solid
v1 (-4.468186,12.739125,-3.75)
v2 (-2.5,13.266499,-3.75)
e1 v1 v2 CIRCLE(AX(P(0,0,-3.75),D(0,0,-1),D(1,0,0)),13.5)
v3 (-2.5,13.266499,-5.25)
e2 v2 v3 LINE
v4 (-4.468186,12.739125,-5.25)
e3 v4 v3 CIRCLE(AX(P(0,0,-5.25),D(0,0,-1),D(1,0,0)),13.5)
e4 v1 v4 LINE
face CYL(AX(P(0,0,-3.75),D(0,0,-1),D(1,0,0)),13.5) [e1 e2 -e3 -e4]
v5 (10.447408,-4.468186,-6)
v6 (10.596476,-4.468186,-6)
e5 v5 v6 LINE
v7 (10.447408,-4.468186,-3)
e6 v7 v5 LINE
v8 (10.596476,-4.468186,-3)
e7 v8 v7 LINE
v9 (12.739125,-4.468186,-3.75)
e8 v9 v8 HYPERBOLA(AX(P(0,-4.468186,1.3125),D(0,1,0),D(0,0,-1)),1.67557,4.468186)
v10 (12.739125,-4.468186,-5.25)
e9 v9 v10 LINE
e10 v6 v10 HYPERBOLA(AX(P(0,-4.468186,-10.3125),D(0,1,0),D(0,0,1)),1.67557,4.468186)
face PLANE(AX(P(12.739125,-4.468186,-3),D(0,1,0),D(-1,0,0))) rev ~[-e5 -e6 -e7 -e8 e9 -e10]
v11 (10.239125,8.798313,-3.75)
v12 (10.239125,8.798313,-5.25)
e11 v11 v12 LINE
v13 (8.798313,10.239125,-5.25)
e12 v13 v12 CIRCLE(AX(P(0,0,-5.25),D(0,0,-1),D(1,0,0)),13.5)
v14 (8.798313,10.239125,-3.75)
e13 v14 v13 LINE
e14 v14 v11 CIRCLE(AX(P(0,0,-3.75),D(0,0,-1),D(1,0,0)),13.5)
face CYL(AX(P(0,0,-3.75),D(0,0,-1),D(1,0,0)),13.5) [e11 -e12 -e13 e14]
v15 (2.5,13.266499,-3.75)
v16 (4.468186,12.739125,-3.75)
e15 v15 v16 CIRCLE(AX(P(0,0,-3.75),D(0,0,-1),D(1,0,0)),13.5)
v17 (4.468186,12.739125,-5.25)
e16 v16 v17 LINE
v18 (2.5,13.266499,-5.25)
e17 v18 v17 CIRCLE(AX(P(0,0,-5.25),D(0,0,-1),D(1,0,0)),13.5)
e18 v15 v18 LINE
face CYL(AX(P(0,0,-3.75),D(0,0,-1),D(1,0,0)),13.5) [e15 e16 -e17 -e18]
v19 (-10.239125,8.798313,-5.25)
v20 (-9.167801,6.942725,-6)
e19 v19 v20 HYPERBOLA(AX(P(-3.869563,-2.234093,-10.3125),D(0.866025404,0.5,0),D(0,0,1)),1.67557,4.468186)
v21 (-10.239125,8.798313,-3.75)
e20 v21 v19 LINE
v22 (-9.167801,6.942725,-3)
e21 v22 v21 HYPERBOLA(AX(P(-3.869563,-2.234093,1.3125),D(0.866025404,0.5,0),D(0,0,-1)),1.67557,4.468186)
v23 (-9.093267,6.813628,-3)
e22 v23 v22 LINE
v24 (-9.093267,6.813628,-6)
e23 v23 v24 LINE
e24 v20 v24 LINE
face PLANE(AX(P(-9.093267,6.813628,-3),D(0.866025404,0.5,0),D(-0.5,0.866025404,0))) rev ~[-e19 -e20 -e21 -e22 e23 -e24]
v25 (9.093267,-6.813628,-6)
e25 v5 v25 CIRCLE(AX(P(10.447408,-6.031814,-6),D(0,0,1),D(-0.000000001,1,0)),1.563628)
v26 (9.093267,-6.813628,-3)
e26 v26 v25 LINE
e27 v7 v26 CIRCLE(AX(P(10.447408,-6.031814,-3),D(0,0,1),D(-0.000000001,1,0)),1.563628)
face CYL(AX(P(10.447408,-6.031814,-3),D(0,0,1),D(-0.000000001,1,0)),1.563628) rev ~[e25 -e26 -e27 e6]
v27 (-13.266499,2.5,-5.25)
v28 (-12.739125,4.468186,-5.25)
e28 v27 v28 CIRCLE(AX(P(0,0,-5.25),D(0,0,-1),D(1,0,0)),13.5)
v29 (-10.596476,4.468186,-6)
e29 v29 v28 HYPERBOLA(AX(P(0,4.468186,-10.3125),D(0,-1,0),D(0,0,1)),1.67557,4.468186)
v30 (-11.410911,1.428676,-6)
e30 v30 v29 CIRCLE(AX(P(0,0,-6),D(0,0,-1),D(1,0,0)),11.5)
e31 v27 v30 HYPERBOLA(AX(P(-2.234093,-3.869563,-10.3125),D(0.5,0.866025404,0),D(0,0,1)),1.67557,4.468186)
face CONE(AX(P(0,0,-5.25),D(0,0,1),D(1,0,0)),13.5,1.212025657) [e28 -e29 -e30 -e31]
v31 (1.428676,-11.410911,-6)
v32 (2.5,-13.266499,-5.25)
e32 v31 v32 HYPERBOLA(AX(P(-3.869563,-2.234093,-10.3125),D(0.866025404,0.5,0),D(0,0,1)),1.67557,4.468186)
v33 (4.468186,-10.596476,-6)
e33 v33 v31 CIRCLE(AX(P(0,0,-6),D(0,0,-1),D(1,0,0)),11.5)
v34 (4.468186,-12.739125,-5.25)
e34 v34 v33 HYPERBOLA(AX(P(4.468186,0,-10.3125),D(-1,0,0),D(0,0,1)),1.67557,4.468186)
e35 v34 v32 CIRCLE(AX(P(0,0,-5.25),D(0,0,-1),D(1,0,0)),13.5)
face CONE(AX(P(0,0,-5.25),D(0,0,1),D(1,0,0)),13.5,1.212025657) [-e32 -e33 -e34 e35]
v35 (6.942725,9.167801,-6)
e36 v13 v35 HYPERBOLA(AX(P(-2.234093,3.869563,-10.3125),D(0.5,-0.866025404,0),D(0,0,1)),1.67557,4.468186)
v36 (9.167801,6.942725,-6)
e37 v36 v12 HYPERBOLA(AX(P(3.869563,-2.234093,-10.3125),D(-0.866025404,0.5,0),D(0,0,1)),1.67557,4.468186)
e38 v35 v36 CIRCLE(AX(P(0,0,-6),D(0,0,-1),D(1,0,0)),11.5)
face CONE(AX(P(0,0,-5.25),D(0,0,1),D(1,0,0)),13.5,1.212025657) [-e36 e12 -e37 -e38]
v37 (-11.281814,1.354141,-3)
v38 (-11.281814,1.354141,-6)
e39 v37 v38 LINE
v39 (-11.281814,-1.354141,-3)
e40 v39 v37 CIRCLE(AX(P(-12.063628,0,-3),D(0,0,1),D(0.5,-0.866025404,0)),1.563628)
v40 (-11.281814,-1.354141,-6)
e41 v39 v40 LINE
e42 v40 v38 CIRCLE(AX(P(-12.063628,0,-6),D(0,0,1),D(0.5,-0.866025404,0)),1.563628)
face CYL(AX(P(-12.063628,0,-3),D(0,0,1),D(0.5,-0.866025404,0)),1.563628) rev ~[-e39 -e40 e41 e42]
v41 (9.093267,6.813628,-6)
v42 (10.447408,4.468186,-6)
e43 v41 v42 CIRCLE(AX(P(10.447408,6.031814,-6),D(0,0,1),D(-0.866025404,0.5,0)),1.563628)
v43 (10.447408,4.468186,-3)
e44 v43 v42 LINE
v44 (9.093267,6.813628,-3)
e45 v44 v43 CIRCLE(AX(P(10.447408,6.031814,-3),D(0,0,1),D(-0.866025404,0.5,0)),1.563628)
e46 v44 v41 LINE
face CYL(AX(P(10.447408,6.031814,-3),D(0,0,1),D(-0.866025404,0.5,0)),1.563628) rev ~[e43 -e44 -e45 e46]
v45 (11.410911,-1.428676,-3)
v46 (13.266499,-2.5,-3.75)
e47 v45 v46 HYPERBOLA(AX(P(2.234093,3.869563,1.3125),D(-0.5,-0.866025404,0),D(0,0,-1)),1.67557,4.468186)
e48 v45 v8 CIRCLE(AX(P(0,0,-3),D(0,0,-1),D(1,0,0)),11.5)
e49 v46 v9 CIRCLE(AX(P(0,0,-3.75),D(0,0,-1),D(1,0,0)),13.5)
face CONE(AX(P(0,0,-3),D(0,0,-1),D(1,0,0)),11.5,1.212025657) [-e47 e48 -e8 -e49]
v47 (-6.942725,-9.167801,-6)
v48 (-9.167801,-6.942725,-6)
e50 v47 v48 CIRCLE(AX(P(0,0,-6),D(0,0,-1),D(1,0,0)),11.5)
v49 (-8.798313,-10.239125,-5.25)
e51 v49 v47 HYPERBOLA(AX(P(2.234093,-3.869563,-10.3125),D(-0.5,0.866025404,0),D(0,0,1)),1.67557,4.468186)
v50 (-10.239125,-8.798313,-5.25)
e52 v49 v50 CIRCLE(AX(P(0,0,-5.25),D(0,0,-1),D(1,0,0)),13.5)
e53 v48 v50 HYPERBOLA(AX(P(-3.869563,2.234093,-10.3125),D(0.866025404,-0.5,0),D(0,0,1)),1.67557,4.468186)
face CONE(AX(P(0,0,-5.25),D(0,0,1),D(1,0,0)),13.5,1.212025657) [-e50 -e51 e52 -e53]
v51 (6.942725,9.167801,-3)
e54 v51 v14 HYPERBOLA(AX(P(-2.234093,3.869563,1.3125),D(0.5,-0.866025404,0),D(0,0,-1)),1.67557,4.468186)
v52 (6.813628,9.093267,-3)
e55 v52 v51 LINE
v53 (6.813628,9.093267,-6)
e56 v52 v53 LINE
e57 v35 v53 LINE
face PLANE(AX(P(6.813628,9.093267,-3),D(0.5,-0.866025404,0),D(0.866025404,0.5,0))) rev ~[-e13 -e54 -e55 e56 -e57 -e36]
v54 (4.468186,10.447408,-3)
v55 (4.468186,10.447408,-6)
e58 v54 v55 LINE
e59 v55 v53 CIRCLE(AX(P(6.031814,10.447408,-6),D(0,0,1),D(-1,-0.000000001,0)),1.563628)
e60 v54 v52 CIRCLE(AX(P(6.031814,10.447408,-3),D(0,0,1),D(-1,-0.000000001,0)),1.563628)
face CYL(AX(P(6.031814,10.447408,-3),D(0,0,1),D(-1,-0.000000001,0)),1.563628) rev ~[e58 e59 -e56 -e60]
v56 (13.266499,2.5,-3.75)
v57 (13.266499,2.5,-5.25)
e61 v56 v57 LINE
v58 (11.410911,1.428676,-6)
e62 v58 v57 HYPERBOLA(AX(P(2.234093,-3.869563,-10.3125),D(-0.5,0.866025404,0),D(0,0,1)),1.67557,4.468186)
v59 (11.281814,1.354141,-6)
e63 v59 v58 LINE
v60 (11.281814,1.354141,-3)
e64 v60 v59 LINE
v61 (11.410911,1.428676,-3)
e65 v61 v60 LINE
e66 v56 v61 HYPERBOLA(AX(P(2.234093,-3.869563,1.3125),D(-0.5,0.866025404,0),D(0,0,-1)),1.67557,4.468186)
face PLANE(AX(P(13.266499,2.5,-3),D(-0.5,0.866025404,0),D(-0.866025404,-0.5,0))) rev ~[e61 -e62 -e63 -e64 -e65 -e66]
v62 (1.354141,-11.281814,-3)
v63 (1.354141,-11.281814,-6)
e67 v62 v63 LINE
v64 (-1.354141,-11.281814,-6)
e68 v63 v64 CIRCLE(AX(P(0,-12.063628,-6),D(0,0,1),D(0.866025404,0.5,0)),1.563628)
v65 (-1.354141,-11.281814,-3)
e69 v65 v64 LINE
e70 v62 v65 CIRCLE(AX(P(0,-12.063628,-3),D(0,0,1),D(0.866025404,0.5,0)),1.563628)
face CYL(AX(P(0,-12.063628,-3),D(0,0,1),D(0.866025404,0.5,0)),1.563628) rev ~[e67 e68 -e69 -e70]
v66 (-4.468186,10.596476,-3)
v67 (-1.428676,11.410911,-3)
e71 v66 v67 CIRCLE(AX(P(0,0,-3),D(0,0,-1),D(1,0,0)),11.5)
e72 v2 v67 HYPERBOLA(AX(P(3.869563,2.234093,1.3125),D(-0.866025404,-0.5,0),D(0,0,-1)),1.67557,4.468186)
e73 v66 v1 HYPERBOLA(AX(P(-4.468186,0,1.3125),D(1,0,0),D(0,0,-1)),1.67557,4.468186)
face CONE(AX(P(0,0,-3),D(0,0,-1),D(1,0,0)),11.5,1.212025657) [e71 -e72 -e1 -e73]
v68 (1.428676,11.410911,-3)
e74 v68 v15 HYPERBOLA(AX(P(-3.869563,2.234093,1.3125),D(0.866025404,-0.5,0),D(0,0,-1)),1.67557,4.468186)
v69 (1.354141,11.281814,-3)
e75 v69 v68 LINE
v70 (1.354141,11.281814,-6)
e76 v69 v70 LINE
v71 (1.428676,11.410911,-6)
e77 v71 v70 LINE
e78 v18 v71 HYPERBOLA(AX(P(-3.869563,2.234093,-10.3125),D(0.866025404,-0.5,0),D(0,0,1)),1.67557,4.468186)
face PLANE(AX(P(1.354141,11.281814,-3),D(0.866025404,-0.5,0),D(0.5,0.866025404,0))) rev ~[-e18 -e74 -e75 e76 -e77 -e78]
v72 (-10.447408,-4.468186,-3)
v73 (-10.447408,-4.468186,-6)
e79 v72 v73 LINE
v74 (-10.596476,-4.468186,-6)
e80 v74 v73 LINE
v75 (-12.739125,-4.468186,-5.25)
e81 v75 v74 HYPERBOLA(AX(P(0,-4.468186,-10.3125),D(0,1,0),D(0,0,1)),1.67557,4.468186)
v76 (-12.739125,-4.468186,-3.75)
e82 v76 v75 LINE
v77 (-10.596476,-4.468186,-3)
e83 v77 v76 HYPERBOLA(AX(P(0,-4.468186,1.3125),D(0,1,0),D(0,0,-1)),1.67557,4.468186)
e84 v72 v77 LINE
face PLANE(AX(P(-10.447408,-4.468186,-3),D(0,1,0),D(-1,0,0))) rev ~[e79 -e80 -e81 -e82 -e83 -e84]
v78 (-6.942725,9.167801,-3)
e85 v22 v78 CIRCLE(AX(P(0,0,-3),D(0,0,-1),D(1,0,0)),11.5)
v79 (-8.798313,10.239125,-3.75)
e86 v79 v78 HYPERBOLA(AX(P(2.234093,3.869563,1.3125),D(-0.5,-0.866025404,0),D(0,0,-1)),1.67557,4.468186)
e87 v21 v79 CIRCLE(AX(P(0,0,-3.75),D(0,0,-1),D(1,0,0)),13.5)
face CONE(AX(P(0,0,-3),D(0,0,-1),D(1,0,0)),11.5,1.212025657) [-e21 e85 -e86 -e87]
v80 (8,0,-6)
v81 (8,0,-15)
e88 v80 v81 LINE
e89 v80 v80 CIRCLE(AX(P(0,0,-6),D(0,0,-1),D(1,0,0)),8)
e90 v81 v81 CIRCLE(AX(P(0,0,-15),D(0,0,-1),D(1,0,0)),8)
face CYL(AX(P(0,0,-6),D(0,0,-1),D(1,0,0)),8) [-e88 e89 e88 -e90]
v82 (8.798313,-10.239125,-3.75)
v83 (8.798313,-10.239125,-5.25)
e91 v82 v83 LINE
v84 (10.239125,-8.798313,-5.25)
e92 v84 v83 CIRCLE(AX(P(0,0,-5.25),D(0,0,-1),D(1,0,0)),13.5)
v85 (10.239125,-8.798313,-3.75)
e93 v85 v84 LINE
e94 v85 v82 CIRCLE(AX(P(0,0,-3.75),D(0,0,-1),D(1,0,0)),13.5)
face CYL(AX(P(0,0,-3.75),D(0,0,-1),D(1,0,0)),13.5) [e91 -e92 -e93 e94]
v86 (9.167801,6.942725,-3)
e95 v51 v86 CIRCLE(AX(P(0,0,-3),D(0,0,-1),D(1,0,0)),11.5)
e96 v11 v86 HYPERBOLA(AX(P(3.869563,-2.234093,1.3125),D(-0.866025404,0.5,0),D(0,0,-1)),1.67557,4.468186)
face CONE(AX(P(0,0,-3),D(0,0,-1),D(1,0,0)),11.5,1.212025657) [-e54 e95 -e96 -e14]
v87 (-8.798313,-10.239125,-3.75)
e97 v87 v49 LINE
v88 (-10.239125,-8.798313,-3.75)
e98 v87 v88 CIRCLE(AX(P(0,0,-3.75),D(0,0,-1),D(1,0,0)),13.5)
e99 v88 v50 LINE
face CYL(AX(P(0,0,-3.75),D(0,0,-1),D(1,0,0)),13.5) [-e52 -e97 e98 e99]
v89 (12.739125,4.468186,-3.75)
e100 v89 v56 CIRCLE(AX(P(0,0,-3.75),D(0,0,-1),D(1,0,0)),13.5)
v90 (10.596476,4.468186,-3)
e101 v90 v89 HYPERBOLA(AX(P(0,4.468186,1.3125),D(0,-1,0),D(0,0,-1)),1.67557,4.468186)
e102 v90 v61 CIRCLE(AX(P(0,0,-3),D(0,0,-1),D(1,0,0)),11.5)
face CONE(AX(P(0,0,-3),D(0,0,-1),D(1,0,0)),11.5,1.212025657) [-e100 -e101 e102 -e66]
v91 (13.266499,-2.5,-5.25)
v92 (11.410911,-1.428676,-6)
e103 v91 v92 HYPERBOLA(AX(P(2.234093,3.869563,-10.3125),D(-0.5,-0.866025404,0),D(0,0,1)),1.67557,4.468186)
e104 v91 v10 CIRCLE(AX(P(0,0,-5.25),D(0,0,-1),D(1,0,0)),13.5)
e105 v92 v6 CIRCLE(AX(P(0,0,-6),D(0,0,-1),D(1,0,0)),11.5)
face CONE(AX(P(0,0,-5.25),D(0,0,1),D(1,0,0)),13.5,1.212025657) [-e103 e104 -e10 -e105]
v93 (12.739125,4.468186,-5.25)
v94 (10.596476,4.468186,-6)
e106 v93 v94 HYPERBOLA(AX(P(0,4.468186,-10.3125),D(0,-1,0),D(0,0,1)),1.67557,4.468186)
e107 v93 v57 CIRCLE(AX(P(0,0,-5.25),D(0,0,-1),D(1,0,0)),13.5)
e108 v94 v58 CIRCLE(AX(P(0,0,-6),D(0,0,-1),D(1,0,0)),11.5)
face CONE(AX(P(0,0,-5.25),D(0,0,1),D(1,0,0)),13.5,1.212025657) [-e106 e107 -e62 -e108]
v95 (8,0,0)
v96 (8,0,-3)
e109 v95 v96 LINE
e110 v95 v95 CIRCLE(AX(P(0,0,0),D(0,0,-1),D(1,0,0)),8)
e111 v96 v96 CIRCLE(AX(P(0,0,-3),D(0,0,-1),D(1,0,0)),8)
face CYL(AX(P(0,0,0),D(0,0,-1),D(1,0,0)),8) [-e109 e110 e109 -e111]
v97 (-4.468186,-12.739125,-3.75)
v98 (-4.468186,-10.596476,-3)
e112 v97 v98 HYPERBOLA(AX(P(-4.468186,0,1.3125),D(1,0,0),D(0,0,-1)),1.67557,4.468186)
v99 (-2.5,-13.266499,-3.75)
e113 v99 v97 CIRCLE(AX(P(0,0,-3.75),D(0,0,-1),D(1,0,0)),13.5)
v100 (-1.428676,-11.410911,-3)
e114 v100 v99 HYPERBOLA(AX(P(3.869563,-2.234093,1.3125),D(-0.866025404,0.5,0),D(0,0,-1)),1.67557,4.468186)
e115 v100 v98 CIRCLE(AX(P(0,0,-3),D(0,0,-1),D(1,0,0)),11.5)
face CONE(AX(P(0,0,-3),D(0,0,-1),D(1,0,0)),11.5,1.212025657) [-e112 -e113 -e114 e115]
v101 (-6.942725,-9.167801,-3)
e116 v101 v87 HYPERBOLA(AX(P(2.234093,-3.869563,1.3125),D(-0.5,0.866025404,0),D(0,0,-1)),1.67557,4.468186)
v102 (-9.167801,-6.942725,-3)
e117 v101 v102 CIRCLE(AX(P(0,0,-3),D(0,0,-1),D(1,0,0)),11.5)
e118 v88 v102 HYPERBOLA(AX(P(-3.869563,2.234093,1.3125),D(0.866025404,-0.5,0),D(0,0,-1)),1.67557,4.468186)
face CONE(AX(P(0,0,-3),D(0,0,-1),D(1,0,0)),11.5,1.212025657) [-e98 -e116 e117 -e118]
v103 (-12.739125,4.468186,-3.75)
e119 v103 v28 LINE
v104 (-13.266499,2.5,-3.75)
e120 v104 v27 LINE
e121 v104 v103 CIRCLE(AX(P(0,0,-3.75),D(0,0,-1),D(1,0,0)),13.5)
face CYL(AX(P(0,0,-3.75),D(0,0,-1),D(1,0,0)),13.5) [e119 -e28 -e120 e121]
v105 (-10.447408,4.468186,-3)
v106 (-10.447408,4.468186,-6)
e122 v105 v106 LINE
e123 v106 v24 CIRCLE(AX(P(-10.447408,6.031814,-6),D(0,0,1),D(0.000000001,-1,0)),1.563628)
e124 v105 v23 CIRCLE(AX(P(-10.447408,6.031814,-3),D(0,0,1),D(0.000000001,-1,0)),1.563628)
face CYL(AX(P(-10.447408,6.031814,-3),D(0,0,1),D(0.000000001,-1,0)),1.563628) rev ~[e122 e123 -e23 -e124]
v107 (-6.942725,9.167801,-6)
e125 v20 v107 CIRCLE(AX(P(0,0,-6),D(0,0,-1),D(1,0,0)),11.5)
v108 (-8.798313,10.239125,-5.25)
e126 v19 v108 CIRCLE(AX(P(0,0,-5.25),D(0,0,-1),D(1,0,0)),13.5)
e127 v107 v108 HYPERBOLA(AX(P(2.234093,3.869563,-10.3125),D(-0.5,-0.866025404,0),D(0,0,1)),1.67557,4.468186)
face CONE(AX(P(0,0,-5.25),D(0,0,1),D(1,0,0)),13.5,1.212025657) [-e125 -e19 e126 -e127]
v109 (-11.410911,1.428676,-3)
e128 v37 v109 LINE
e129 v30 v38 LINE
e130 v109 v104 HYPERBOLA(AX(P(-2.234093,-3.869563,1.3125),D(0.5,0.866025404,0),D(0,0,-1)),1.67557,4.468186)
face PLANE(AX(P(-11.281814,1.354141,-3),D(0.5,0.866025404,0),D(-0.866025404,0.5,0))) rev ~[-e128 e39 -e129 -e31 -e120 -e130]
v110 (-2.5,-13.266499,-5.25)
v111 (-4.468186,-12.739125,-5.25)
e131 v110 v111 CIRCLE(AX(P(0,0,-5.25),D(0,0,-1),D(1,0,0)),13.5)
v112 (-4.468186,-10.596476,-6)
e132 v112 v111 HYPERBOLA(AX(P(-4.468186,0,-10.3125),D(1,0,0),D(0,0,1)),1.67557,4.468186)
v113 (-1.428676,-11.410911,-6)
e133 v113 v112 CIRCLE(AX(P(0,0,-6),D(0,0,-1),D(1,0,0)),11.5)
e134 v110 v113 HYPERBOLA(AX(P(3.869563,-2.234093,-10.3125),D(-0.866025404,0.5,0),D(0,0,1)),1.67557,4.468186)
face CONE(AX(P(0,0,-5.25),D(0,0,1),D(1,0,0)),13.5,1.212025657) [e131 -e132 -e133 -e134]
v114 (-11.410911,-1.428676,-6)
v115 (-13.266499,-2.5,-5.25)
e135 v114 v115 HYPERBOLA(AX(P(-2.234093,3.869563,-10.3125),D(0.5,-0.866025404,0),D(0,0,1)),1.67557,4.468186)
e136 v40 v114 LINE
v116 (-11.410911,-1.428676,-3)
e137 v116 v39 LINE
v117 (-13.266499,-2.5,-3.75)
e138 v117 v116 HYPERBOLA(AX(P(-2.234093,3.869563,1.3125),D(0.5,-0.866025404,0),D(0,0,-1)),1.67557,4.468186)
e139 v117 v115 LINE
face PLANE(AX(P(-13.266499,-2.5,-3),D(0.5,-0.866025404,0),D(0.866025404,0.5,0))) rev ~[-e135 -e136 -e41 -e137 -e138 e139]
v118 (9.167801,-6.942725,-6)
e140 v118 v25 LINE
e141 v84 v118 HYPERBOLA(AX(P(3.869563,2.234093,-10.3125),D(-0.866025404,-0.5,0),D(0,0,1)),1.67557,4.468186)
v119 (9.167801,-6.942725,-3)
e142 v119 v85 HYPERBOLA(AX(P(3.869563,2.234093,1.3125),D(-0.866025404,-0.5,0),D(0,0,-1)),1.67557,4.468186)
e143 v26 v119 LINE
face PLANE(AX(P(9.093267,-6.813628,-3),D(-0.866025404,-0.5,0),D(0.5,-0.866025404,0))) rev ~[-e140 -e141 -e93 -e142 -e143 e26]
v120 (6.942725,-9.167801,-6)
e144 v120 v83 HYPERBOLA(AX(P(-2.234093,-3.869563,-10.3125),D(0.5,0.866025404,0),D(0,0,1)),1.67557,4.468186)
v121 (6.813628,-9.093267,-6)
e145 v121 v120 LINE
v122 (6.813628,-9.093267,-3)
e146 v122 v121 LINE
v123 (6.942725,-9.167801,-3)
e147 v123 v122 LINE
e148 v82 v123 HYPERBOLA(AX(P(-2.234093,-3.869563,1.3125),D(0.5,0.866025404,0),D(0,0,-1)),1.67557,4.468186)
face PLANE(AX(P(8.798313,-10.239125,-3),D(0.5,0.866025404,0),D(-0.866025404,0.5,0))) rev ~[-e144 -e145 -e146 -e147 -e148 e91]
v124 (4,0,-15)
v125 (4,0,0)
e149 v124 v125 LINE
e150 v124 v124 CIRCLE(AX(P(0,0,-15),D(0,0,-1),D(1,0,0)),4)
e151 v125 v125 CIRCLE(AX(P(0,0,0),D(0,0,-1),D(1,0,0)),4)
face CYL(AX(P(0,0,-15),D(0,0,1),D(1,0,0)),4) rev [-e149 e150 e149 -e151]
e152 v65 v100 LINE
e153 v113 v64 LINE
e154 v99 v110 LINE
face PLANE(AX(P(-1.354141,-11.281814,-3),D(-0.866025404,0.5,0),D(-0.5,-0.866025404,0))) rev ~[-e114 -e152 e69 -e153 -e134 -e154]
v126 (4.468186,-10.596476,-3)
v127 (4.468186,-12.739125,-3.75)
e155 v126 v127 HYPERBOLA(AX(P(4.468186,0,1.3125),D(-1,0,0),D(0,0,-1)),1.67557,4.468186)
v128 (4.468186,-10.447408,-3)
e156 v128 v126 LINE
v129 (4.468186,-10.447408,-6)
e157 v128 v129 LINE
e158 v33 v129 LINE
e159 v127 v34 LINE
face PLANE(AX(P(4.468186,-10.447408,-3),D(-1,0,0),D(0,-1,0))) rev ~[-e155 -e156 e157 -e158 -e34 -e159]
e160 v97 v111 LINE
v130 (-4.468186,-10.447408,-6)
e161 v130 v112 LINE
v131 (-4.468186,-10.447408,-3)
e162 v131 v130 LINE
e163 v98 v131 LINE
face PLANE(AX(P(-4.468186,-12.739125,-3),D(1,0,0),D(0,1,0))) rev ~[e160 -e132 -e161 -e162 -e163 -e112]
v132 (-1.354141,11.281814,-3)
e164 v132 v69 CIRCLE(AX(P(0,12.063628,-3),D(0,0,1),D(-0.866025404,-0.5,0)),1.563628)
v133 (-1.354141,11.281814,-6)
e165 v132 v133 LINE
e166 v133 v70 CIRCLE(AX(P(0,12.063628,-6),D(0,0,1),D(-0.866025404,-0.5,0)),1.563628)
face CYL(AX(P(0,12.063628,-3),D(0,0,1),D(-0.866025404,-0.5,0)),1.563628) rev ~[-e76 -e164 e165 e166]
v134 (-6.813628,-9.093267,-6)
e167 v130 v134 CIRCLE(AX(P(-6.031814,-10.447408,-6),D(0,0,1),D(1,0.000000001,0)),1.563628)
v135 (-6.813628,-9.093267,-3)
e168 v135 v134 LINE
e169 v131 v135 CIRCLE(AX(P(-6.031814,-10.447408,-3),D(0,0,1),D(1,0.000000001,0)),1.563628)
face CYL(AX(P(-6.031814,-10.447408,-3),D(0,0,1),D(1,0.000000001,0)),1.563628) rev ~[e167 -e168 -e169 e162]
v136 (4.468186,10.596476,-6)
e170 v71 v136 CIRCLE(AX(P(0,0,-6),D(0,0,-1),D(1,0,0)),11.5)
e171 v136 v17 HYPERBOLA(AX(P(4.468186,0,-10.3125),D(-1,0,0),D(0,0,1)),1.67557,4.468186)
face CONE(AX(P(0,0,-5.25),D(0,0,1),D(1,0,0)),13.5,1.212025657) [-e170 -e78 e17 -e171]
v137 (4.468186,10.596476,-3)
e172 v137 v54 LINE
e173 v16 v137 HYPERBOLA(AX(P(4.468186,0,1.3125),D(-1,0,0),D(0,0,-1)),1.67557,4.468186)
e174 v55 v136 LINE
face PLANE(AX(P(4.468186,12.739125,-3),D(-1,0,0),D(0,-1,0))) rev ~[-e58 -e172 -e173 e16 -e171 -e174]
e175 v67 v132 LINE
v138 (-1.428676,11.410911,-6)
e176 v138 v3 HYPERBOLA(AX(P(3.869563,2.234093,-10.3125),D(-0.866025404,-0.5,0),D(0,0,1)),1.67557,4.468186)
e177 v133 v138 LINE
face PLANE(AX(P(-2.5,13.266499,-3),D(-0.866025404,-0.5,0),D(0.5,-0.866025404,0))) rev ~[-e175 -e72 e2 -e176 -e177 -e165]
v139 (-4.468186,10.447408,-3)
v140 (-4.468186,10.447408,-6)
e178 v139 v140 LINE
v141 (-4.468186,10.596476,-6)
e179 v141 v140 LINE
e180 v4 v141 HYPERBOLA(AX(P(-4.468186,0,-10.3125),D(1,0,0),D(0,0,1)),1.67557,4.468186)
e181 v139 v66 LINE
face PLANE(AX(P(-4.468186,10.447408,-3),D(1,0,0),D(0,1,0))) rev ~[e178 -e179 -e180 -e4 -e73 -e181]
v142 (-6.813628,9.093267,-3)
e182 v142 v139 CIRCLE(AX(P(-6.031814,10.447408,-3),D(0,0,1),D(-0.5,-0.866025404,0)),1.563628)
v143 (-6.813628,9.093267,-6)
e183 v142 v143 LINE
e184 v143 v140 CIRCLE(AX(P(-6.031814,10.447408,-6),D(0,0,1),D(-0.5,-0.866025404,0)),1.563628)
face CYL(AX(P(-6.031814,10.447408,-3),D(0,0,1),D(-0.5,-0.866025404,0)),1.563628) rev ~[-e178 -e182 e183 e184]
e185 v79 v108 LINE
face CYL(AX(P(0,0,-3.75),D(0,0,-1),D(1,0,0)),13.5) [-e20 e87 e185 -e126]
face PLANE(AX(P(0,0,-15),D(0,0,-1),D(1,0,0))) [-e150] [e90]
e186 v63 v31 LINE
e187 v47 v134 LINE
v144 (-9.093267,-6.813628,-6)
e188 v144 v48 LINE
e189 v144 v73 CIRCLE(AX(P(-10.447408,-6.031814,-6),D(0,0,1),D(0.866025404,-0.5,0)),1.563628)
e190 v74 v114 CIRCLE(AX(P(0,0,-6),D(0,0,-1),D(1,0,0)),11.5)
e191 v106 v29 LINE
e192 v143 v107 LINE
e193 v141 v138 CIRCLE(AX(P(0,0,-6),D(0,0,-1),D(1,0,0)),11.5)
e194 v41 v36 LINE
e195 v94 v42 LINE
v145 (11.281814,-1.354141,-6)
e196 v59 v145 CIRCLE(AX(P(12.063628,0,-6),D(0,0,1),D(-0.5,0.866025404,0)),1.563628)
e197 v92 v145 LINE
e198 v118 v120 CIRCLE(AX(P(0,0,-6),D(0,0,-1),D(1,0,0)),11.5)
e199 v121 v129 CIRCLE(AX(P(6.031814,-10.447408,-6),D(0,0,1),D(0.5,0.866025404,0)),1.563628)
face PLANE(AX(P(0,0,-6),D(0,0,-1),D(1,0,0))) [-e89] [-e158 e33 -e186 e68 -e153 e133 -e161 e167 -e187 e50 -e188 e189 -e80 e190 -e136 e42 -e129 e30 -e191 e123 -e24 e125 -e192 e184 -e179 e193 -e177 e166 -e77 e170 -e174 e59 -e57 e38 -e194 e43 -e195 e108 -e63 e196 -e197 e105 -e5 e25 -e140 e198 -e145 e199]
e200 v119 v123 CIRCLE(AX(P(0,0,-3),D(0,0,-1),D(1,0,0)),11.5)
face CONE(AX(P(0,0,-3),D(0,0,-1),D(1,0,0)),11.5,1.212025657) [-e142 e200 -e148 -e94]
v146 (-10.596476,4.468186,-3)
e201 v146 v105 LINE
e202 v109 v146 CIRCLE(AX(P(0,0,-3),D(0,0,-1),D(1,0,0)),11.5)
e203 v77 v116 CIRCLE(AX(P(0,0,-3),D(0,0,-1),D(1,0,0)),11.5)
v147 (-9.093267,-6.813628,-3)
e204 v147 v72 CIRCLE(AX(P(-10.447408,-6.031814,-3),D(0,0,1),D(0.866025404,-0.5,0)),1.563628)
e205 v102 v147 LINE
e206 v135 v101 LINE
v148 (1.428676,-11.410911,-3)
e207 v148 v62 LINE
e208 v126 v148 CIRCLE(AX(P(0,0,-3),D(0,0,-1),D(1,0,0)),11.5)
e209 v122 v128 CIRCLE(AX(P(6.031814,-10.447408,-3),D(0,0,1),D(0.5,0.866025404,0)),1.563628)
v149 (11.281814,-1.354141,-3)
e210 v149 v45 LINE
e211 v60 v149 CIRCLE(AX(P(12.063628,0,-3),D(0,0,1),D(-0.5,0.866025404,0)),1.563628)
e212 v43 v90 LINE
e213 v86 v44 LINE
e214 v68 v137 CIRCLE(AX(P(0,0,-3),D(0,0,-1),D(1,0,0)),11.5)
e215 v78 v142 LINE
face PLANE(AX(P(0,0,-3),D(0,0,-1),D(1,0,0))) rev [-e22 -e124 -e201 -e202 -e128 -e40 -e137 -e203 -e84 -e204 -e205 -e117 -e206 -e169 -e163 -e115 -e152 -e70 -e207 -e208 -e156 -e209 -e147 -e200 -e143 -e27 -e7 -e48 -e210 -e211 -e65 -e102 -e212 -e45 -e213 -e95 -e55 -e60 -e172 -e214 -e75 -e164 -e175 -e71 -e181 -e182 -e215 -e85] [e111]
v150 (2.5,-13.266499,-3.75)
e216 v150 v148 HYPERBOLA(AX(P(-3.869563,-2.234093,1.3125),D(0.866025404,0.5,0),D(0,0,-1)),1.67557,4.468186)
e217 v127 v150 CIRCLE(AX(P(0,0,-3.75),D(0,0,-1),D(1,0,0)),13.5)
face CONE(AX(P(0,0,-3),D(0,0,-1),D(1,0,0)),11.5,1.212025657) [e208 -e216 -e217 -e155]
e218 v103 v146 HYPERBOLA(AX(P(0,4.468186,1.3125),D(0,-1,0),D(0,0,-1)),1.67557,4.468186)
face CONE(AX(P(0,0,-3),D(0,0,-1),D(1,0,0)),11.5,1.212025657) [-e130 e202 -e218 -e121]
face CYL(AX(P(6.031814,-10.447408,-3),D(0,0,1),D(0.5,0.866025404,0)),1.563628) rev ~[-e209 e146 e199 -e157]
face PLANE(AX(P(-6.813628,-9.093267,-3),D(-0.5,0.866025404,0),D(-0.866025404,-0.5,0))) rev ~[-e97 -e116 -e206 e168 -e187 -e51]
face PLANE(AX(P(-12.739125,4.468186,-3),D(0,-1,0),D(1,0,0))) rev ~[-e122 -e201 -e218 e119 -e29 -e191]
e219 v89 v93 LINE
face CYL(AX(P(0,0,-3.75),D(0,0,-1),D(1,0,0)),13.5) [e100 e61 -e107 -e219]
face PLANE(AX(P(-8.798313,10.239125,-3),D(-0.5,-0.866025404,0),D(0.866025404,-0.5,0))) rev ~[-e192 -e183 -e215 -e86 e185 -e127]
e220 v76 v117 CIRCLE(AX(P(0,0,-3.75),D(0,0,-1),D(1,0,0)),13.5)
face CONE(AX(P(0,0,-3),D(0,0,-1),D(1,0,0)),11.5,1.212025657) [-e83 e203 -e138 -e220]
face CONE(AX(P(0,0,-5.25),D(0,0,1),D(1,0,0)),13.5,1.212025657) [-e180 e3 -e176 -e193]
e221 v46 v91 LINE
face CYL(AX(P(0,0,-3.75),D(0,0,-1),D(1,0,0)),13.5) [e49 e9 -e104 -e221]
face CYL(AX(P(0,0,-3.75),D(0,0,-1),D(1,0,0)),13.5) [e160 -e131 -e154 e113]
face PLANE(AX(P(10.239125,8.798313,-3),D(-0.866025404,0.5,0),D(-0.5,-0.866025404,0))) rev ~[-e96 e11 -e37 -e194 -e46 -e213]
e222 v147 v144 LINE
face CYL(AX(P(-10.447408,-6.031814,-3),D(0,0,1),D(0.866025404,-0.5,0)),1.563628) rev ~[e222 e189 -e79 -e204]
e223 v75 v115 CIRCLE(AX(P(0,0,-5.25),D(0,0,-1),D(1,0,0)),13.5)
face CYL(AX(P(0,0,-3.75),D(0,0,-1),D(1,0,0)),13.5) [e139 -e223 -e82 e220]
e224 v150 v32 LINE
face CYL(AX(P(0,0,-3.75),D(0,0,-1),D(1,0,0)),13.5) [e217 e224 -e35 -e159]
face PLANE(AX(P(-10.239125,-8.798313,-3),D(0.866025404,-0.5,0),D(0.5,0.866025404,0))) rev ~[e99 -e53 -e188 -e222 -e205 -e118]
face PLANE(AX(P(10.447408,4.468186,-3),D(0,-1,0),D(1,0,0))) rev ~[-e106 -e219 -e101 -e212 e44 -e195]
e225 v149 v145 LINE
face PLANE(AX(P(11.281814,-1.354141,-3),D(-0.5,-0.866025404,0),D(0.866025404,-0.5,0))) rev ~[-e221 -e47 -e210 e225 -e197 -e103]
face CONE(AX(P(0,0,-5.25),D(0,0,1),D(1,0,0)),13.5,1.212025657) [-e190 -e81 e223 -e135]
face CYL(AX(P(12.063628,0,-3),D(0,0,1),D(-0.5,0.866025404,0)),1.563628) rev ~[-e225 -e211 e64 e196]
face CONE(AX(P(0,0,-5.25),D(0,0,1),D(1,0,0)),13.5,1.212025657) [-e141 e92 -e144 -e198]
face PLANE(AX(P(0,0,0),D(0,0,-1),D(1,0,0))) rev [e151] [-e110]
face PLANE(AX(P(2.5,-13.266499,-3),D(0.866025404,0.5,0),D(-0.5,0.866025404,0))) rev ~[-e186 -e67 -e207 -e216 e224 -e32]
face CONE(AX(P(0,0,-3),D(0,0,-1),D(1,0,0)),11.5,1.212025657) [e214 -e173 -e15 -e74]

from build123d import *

# Parameters (mm, degrees)
CUT_EXTRUDE1_DEPTH = 23.549944568


with BuildPart() as part:
    # Sketch1 → Revolve1 (revolve)
    with BuildSketch(Plane(origin=(0, 0, 0), x_dir=(1, 0, 0), z_dir=(0, 1, 0)), mode=Mode.PRIVATE) as revolve1_sk:
        Polygon((-4, 0), (-8, 0), (-8, 3), (-11.5, 3), (-13.5, 3.75), (-13.5, 5.25), (-11.5, 6), (-8, 6), (-8, 15), (-4, 15), align=None)
    revolve(revolve1_sk.sketch.rotate(Axis((0, 0, 0), (0, 0, -1)), 180), axis=Axis((0, 0, 0), (0, 0, -1)))

    # Sketch2 → Cut-Extrude1 (cut, through all)
    with BuildSketch(Plane.XY.offset(-3)):
        with BuildLine():
            Line((-2.5, 13.266499161), (-1.354141447, 11.281813929))
            ThreePointArc((-1.354141447, 11.281813929), (0, 10.5), (1.354141447, 11.281813929))
            Line((1.354141447, 11.281813929), (2.5, 13.266499161))
            ThreePointArc((2.5, 13.266499161), (0, 13.5), (-2.5, 13.266499161))
        make_face()
        with BuildLine():
            Line((4.468186071, 12.739125293), (4.468186071, 10.447408186))
            ThreePointArc((4.468186071, 10.447408186), (5.25, 9.09326674), (6.813627858, 9.09326674))
            Line((6.813627858, 9.09326674), (8.79831309, 10.239125293))
            ThreePointArc((8.79831309, 10.239125293), (6.75, 11.691342951), (4.468186071, 12.739125293))
        make_face()
        with BuildLine():
            Line((10.239125293, 8.79831309), (9.09326674, 6.813627858))
            ThreePointArc((9.09326674, 6.813627858), (9.09326674, 5.25), (10.447408186, 4.468186071))
            Line((10.447408186, 4.468186071), (12.739125293, 4.468186071))
            ThreePointArc((12.739125293, 4.468186071), (11.691342951, 6.75), (10.239125293, 8.79831309))
        make_face()
        with BuildLine():
            Line((13.266499161, 2.5), (11.281813929, 1.354141447))
            ThreePointArc((11.281813929, 1.354141447), (10.5, 0), (11.281813929, -1.354141447))
            Line((11.281813929, -1.354141447), (13.266499161, -2.5))
            ThreePointArc((13.266499161, -2.5), (13.5, 0), (13.266499161, 2.5))
        make_face()
        with BuildLine():
            Line((12.739125293, -4.468186071), (10.447408186, -4.468186071))
            ThreePointArc((10.447408186, -4.468186071), (9.09326674, -5.25), (9.09326674, -6.813627858))
            Line((9.09326674, -6.813627858), (10.239125293, -8.79831309))
            ThreePointArc((10.239125293, -8.79831309), (11.691342951, -6.75), (12.739125293, -4.468186071))
        make_face()
        with BuildLine():
            Line((8.79831309, -10.239125293), (6.813627858, -9.09326674))
            ThreePointArc((6.813627858, -9.09326674), (5.25, -9.09326674), (4.468186071, -10.447408186))
            Line((4.468186071, -10.447408186), (4.468186071, -12.739125293))
            ThreePointArc((4.468186071, -12.739125293), (6.75, -11.691342951), (8.79831309, -10.239125293))
        make_face()
        with BuildLine():
            Line((2.5, -13.266499161), (1.354141447, -11.281813929))
            ThreePointArc((1.354141447, -11.281813929), (0, -10.5), (-1.354141447, -11.281813929))
            Line((-1.354141447, -11.281813929), (-2.5, -13.266499161))
            ThreePointArc((-2.5, -13.266499161), (0, -13.5), (2.5, -13.266499161))
        make_face()
        with BuildLine():
            Line((-4.468186071, -12.739125293), (-4.468186071, -10.447408186))
            ThreePointArc((-4.468186071, -10.447408186), (-5.25, -9.09326674), (-6.813627858, -9.09326674))
            Line((-6.813627858, -9.09326674), (-8.79831309, -10.239125293))
            ThreePointArc((-8.79831309, -10.239125293), (-6.75, -11.691342951), (-4.468186071, -12.739125293))
        make_face()
        with BuildLine():
            Line((-10.239125293, -8.79831309), (-9.09326674, -6.813627858))
            ThreePointArc((-9.09326674, -6.813627858), (-9.09326674, -5.25), (-10.447408186, -4.468186071))
            Line((-10.447408186, -4.468186071), (-12.739125293, -4.468186071))
            ThreePointArc((-12.739125293, -4.468186071), (-11.691342951, -6.75), (-10.239125293, -8.79831309))
        make_face()
        with BuildLine():
            Line((-13.266499161, -2.5), (-11.281813929, -1.354141447))
            ThreePointArc((-11.281813929, -1.354141447), (-10.5, 0), (-11.281813929, 1.354141447))
            Line((-11.281813929, 1.354141447), (-13.266499161, 2.5))
            ThreePointArc((-13.266499161, 2.5), (-13.5, 0), (-13.266499161, -2.5))
        make_face()
        with BuildLine():
            Line((-12.739125293, 4.468186071), (-10.447408186, 4.468186071))
            ThreePointArc((-10.447408186, 4.468186071), (-9.09326674, 5.25), (-9.09326674, 6.813627858))
            Line((-9.09326674, 6.813627858), (-10.239125293, 8.79831309))
            ThreePointArc((-10.239125293, 8.79831309), (-11.691342951, 6.75), (-12.739125293, 4.468186071))
        make_face()
        with BuildLine():
            Line((-8.79831309, 10.239125293), (-6.813627858, 9.09326674))
            ThreePointArc((-6.813627858, 9.09326674), (-5.25, 9.09326674), (-4.468186071, 10.447408186))
            Line((-4.468186071, 10.447408186), (-4.468186071, 12.739125293))
            ThreePointArc((-4.468186071, 12.739125293), (-6.75, 11.691342951), (-8.79831309, 10.239125293))
        make_face()
    extrude(amount=-CUT_EXTRUDE1_DEPTH, mode=Mode.SUBTRACT)


solid = part.part
